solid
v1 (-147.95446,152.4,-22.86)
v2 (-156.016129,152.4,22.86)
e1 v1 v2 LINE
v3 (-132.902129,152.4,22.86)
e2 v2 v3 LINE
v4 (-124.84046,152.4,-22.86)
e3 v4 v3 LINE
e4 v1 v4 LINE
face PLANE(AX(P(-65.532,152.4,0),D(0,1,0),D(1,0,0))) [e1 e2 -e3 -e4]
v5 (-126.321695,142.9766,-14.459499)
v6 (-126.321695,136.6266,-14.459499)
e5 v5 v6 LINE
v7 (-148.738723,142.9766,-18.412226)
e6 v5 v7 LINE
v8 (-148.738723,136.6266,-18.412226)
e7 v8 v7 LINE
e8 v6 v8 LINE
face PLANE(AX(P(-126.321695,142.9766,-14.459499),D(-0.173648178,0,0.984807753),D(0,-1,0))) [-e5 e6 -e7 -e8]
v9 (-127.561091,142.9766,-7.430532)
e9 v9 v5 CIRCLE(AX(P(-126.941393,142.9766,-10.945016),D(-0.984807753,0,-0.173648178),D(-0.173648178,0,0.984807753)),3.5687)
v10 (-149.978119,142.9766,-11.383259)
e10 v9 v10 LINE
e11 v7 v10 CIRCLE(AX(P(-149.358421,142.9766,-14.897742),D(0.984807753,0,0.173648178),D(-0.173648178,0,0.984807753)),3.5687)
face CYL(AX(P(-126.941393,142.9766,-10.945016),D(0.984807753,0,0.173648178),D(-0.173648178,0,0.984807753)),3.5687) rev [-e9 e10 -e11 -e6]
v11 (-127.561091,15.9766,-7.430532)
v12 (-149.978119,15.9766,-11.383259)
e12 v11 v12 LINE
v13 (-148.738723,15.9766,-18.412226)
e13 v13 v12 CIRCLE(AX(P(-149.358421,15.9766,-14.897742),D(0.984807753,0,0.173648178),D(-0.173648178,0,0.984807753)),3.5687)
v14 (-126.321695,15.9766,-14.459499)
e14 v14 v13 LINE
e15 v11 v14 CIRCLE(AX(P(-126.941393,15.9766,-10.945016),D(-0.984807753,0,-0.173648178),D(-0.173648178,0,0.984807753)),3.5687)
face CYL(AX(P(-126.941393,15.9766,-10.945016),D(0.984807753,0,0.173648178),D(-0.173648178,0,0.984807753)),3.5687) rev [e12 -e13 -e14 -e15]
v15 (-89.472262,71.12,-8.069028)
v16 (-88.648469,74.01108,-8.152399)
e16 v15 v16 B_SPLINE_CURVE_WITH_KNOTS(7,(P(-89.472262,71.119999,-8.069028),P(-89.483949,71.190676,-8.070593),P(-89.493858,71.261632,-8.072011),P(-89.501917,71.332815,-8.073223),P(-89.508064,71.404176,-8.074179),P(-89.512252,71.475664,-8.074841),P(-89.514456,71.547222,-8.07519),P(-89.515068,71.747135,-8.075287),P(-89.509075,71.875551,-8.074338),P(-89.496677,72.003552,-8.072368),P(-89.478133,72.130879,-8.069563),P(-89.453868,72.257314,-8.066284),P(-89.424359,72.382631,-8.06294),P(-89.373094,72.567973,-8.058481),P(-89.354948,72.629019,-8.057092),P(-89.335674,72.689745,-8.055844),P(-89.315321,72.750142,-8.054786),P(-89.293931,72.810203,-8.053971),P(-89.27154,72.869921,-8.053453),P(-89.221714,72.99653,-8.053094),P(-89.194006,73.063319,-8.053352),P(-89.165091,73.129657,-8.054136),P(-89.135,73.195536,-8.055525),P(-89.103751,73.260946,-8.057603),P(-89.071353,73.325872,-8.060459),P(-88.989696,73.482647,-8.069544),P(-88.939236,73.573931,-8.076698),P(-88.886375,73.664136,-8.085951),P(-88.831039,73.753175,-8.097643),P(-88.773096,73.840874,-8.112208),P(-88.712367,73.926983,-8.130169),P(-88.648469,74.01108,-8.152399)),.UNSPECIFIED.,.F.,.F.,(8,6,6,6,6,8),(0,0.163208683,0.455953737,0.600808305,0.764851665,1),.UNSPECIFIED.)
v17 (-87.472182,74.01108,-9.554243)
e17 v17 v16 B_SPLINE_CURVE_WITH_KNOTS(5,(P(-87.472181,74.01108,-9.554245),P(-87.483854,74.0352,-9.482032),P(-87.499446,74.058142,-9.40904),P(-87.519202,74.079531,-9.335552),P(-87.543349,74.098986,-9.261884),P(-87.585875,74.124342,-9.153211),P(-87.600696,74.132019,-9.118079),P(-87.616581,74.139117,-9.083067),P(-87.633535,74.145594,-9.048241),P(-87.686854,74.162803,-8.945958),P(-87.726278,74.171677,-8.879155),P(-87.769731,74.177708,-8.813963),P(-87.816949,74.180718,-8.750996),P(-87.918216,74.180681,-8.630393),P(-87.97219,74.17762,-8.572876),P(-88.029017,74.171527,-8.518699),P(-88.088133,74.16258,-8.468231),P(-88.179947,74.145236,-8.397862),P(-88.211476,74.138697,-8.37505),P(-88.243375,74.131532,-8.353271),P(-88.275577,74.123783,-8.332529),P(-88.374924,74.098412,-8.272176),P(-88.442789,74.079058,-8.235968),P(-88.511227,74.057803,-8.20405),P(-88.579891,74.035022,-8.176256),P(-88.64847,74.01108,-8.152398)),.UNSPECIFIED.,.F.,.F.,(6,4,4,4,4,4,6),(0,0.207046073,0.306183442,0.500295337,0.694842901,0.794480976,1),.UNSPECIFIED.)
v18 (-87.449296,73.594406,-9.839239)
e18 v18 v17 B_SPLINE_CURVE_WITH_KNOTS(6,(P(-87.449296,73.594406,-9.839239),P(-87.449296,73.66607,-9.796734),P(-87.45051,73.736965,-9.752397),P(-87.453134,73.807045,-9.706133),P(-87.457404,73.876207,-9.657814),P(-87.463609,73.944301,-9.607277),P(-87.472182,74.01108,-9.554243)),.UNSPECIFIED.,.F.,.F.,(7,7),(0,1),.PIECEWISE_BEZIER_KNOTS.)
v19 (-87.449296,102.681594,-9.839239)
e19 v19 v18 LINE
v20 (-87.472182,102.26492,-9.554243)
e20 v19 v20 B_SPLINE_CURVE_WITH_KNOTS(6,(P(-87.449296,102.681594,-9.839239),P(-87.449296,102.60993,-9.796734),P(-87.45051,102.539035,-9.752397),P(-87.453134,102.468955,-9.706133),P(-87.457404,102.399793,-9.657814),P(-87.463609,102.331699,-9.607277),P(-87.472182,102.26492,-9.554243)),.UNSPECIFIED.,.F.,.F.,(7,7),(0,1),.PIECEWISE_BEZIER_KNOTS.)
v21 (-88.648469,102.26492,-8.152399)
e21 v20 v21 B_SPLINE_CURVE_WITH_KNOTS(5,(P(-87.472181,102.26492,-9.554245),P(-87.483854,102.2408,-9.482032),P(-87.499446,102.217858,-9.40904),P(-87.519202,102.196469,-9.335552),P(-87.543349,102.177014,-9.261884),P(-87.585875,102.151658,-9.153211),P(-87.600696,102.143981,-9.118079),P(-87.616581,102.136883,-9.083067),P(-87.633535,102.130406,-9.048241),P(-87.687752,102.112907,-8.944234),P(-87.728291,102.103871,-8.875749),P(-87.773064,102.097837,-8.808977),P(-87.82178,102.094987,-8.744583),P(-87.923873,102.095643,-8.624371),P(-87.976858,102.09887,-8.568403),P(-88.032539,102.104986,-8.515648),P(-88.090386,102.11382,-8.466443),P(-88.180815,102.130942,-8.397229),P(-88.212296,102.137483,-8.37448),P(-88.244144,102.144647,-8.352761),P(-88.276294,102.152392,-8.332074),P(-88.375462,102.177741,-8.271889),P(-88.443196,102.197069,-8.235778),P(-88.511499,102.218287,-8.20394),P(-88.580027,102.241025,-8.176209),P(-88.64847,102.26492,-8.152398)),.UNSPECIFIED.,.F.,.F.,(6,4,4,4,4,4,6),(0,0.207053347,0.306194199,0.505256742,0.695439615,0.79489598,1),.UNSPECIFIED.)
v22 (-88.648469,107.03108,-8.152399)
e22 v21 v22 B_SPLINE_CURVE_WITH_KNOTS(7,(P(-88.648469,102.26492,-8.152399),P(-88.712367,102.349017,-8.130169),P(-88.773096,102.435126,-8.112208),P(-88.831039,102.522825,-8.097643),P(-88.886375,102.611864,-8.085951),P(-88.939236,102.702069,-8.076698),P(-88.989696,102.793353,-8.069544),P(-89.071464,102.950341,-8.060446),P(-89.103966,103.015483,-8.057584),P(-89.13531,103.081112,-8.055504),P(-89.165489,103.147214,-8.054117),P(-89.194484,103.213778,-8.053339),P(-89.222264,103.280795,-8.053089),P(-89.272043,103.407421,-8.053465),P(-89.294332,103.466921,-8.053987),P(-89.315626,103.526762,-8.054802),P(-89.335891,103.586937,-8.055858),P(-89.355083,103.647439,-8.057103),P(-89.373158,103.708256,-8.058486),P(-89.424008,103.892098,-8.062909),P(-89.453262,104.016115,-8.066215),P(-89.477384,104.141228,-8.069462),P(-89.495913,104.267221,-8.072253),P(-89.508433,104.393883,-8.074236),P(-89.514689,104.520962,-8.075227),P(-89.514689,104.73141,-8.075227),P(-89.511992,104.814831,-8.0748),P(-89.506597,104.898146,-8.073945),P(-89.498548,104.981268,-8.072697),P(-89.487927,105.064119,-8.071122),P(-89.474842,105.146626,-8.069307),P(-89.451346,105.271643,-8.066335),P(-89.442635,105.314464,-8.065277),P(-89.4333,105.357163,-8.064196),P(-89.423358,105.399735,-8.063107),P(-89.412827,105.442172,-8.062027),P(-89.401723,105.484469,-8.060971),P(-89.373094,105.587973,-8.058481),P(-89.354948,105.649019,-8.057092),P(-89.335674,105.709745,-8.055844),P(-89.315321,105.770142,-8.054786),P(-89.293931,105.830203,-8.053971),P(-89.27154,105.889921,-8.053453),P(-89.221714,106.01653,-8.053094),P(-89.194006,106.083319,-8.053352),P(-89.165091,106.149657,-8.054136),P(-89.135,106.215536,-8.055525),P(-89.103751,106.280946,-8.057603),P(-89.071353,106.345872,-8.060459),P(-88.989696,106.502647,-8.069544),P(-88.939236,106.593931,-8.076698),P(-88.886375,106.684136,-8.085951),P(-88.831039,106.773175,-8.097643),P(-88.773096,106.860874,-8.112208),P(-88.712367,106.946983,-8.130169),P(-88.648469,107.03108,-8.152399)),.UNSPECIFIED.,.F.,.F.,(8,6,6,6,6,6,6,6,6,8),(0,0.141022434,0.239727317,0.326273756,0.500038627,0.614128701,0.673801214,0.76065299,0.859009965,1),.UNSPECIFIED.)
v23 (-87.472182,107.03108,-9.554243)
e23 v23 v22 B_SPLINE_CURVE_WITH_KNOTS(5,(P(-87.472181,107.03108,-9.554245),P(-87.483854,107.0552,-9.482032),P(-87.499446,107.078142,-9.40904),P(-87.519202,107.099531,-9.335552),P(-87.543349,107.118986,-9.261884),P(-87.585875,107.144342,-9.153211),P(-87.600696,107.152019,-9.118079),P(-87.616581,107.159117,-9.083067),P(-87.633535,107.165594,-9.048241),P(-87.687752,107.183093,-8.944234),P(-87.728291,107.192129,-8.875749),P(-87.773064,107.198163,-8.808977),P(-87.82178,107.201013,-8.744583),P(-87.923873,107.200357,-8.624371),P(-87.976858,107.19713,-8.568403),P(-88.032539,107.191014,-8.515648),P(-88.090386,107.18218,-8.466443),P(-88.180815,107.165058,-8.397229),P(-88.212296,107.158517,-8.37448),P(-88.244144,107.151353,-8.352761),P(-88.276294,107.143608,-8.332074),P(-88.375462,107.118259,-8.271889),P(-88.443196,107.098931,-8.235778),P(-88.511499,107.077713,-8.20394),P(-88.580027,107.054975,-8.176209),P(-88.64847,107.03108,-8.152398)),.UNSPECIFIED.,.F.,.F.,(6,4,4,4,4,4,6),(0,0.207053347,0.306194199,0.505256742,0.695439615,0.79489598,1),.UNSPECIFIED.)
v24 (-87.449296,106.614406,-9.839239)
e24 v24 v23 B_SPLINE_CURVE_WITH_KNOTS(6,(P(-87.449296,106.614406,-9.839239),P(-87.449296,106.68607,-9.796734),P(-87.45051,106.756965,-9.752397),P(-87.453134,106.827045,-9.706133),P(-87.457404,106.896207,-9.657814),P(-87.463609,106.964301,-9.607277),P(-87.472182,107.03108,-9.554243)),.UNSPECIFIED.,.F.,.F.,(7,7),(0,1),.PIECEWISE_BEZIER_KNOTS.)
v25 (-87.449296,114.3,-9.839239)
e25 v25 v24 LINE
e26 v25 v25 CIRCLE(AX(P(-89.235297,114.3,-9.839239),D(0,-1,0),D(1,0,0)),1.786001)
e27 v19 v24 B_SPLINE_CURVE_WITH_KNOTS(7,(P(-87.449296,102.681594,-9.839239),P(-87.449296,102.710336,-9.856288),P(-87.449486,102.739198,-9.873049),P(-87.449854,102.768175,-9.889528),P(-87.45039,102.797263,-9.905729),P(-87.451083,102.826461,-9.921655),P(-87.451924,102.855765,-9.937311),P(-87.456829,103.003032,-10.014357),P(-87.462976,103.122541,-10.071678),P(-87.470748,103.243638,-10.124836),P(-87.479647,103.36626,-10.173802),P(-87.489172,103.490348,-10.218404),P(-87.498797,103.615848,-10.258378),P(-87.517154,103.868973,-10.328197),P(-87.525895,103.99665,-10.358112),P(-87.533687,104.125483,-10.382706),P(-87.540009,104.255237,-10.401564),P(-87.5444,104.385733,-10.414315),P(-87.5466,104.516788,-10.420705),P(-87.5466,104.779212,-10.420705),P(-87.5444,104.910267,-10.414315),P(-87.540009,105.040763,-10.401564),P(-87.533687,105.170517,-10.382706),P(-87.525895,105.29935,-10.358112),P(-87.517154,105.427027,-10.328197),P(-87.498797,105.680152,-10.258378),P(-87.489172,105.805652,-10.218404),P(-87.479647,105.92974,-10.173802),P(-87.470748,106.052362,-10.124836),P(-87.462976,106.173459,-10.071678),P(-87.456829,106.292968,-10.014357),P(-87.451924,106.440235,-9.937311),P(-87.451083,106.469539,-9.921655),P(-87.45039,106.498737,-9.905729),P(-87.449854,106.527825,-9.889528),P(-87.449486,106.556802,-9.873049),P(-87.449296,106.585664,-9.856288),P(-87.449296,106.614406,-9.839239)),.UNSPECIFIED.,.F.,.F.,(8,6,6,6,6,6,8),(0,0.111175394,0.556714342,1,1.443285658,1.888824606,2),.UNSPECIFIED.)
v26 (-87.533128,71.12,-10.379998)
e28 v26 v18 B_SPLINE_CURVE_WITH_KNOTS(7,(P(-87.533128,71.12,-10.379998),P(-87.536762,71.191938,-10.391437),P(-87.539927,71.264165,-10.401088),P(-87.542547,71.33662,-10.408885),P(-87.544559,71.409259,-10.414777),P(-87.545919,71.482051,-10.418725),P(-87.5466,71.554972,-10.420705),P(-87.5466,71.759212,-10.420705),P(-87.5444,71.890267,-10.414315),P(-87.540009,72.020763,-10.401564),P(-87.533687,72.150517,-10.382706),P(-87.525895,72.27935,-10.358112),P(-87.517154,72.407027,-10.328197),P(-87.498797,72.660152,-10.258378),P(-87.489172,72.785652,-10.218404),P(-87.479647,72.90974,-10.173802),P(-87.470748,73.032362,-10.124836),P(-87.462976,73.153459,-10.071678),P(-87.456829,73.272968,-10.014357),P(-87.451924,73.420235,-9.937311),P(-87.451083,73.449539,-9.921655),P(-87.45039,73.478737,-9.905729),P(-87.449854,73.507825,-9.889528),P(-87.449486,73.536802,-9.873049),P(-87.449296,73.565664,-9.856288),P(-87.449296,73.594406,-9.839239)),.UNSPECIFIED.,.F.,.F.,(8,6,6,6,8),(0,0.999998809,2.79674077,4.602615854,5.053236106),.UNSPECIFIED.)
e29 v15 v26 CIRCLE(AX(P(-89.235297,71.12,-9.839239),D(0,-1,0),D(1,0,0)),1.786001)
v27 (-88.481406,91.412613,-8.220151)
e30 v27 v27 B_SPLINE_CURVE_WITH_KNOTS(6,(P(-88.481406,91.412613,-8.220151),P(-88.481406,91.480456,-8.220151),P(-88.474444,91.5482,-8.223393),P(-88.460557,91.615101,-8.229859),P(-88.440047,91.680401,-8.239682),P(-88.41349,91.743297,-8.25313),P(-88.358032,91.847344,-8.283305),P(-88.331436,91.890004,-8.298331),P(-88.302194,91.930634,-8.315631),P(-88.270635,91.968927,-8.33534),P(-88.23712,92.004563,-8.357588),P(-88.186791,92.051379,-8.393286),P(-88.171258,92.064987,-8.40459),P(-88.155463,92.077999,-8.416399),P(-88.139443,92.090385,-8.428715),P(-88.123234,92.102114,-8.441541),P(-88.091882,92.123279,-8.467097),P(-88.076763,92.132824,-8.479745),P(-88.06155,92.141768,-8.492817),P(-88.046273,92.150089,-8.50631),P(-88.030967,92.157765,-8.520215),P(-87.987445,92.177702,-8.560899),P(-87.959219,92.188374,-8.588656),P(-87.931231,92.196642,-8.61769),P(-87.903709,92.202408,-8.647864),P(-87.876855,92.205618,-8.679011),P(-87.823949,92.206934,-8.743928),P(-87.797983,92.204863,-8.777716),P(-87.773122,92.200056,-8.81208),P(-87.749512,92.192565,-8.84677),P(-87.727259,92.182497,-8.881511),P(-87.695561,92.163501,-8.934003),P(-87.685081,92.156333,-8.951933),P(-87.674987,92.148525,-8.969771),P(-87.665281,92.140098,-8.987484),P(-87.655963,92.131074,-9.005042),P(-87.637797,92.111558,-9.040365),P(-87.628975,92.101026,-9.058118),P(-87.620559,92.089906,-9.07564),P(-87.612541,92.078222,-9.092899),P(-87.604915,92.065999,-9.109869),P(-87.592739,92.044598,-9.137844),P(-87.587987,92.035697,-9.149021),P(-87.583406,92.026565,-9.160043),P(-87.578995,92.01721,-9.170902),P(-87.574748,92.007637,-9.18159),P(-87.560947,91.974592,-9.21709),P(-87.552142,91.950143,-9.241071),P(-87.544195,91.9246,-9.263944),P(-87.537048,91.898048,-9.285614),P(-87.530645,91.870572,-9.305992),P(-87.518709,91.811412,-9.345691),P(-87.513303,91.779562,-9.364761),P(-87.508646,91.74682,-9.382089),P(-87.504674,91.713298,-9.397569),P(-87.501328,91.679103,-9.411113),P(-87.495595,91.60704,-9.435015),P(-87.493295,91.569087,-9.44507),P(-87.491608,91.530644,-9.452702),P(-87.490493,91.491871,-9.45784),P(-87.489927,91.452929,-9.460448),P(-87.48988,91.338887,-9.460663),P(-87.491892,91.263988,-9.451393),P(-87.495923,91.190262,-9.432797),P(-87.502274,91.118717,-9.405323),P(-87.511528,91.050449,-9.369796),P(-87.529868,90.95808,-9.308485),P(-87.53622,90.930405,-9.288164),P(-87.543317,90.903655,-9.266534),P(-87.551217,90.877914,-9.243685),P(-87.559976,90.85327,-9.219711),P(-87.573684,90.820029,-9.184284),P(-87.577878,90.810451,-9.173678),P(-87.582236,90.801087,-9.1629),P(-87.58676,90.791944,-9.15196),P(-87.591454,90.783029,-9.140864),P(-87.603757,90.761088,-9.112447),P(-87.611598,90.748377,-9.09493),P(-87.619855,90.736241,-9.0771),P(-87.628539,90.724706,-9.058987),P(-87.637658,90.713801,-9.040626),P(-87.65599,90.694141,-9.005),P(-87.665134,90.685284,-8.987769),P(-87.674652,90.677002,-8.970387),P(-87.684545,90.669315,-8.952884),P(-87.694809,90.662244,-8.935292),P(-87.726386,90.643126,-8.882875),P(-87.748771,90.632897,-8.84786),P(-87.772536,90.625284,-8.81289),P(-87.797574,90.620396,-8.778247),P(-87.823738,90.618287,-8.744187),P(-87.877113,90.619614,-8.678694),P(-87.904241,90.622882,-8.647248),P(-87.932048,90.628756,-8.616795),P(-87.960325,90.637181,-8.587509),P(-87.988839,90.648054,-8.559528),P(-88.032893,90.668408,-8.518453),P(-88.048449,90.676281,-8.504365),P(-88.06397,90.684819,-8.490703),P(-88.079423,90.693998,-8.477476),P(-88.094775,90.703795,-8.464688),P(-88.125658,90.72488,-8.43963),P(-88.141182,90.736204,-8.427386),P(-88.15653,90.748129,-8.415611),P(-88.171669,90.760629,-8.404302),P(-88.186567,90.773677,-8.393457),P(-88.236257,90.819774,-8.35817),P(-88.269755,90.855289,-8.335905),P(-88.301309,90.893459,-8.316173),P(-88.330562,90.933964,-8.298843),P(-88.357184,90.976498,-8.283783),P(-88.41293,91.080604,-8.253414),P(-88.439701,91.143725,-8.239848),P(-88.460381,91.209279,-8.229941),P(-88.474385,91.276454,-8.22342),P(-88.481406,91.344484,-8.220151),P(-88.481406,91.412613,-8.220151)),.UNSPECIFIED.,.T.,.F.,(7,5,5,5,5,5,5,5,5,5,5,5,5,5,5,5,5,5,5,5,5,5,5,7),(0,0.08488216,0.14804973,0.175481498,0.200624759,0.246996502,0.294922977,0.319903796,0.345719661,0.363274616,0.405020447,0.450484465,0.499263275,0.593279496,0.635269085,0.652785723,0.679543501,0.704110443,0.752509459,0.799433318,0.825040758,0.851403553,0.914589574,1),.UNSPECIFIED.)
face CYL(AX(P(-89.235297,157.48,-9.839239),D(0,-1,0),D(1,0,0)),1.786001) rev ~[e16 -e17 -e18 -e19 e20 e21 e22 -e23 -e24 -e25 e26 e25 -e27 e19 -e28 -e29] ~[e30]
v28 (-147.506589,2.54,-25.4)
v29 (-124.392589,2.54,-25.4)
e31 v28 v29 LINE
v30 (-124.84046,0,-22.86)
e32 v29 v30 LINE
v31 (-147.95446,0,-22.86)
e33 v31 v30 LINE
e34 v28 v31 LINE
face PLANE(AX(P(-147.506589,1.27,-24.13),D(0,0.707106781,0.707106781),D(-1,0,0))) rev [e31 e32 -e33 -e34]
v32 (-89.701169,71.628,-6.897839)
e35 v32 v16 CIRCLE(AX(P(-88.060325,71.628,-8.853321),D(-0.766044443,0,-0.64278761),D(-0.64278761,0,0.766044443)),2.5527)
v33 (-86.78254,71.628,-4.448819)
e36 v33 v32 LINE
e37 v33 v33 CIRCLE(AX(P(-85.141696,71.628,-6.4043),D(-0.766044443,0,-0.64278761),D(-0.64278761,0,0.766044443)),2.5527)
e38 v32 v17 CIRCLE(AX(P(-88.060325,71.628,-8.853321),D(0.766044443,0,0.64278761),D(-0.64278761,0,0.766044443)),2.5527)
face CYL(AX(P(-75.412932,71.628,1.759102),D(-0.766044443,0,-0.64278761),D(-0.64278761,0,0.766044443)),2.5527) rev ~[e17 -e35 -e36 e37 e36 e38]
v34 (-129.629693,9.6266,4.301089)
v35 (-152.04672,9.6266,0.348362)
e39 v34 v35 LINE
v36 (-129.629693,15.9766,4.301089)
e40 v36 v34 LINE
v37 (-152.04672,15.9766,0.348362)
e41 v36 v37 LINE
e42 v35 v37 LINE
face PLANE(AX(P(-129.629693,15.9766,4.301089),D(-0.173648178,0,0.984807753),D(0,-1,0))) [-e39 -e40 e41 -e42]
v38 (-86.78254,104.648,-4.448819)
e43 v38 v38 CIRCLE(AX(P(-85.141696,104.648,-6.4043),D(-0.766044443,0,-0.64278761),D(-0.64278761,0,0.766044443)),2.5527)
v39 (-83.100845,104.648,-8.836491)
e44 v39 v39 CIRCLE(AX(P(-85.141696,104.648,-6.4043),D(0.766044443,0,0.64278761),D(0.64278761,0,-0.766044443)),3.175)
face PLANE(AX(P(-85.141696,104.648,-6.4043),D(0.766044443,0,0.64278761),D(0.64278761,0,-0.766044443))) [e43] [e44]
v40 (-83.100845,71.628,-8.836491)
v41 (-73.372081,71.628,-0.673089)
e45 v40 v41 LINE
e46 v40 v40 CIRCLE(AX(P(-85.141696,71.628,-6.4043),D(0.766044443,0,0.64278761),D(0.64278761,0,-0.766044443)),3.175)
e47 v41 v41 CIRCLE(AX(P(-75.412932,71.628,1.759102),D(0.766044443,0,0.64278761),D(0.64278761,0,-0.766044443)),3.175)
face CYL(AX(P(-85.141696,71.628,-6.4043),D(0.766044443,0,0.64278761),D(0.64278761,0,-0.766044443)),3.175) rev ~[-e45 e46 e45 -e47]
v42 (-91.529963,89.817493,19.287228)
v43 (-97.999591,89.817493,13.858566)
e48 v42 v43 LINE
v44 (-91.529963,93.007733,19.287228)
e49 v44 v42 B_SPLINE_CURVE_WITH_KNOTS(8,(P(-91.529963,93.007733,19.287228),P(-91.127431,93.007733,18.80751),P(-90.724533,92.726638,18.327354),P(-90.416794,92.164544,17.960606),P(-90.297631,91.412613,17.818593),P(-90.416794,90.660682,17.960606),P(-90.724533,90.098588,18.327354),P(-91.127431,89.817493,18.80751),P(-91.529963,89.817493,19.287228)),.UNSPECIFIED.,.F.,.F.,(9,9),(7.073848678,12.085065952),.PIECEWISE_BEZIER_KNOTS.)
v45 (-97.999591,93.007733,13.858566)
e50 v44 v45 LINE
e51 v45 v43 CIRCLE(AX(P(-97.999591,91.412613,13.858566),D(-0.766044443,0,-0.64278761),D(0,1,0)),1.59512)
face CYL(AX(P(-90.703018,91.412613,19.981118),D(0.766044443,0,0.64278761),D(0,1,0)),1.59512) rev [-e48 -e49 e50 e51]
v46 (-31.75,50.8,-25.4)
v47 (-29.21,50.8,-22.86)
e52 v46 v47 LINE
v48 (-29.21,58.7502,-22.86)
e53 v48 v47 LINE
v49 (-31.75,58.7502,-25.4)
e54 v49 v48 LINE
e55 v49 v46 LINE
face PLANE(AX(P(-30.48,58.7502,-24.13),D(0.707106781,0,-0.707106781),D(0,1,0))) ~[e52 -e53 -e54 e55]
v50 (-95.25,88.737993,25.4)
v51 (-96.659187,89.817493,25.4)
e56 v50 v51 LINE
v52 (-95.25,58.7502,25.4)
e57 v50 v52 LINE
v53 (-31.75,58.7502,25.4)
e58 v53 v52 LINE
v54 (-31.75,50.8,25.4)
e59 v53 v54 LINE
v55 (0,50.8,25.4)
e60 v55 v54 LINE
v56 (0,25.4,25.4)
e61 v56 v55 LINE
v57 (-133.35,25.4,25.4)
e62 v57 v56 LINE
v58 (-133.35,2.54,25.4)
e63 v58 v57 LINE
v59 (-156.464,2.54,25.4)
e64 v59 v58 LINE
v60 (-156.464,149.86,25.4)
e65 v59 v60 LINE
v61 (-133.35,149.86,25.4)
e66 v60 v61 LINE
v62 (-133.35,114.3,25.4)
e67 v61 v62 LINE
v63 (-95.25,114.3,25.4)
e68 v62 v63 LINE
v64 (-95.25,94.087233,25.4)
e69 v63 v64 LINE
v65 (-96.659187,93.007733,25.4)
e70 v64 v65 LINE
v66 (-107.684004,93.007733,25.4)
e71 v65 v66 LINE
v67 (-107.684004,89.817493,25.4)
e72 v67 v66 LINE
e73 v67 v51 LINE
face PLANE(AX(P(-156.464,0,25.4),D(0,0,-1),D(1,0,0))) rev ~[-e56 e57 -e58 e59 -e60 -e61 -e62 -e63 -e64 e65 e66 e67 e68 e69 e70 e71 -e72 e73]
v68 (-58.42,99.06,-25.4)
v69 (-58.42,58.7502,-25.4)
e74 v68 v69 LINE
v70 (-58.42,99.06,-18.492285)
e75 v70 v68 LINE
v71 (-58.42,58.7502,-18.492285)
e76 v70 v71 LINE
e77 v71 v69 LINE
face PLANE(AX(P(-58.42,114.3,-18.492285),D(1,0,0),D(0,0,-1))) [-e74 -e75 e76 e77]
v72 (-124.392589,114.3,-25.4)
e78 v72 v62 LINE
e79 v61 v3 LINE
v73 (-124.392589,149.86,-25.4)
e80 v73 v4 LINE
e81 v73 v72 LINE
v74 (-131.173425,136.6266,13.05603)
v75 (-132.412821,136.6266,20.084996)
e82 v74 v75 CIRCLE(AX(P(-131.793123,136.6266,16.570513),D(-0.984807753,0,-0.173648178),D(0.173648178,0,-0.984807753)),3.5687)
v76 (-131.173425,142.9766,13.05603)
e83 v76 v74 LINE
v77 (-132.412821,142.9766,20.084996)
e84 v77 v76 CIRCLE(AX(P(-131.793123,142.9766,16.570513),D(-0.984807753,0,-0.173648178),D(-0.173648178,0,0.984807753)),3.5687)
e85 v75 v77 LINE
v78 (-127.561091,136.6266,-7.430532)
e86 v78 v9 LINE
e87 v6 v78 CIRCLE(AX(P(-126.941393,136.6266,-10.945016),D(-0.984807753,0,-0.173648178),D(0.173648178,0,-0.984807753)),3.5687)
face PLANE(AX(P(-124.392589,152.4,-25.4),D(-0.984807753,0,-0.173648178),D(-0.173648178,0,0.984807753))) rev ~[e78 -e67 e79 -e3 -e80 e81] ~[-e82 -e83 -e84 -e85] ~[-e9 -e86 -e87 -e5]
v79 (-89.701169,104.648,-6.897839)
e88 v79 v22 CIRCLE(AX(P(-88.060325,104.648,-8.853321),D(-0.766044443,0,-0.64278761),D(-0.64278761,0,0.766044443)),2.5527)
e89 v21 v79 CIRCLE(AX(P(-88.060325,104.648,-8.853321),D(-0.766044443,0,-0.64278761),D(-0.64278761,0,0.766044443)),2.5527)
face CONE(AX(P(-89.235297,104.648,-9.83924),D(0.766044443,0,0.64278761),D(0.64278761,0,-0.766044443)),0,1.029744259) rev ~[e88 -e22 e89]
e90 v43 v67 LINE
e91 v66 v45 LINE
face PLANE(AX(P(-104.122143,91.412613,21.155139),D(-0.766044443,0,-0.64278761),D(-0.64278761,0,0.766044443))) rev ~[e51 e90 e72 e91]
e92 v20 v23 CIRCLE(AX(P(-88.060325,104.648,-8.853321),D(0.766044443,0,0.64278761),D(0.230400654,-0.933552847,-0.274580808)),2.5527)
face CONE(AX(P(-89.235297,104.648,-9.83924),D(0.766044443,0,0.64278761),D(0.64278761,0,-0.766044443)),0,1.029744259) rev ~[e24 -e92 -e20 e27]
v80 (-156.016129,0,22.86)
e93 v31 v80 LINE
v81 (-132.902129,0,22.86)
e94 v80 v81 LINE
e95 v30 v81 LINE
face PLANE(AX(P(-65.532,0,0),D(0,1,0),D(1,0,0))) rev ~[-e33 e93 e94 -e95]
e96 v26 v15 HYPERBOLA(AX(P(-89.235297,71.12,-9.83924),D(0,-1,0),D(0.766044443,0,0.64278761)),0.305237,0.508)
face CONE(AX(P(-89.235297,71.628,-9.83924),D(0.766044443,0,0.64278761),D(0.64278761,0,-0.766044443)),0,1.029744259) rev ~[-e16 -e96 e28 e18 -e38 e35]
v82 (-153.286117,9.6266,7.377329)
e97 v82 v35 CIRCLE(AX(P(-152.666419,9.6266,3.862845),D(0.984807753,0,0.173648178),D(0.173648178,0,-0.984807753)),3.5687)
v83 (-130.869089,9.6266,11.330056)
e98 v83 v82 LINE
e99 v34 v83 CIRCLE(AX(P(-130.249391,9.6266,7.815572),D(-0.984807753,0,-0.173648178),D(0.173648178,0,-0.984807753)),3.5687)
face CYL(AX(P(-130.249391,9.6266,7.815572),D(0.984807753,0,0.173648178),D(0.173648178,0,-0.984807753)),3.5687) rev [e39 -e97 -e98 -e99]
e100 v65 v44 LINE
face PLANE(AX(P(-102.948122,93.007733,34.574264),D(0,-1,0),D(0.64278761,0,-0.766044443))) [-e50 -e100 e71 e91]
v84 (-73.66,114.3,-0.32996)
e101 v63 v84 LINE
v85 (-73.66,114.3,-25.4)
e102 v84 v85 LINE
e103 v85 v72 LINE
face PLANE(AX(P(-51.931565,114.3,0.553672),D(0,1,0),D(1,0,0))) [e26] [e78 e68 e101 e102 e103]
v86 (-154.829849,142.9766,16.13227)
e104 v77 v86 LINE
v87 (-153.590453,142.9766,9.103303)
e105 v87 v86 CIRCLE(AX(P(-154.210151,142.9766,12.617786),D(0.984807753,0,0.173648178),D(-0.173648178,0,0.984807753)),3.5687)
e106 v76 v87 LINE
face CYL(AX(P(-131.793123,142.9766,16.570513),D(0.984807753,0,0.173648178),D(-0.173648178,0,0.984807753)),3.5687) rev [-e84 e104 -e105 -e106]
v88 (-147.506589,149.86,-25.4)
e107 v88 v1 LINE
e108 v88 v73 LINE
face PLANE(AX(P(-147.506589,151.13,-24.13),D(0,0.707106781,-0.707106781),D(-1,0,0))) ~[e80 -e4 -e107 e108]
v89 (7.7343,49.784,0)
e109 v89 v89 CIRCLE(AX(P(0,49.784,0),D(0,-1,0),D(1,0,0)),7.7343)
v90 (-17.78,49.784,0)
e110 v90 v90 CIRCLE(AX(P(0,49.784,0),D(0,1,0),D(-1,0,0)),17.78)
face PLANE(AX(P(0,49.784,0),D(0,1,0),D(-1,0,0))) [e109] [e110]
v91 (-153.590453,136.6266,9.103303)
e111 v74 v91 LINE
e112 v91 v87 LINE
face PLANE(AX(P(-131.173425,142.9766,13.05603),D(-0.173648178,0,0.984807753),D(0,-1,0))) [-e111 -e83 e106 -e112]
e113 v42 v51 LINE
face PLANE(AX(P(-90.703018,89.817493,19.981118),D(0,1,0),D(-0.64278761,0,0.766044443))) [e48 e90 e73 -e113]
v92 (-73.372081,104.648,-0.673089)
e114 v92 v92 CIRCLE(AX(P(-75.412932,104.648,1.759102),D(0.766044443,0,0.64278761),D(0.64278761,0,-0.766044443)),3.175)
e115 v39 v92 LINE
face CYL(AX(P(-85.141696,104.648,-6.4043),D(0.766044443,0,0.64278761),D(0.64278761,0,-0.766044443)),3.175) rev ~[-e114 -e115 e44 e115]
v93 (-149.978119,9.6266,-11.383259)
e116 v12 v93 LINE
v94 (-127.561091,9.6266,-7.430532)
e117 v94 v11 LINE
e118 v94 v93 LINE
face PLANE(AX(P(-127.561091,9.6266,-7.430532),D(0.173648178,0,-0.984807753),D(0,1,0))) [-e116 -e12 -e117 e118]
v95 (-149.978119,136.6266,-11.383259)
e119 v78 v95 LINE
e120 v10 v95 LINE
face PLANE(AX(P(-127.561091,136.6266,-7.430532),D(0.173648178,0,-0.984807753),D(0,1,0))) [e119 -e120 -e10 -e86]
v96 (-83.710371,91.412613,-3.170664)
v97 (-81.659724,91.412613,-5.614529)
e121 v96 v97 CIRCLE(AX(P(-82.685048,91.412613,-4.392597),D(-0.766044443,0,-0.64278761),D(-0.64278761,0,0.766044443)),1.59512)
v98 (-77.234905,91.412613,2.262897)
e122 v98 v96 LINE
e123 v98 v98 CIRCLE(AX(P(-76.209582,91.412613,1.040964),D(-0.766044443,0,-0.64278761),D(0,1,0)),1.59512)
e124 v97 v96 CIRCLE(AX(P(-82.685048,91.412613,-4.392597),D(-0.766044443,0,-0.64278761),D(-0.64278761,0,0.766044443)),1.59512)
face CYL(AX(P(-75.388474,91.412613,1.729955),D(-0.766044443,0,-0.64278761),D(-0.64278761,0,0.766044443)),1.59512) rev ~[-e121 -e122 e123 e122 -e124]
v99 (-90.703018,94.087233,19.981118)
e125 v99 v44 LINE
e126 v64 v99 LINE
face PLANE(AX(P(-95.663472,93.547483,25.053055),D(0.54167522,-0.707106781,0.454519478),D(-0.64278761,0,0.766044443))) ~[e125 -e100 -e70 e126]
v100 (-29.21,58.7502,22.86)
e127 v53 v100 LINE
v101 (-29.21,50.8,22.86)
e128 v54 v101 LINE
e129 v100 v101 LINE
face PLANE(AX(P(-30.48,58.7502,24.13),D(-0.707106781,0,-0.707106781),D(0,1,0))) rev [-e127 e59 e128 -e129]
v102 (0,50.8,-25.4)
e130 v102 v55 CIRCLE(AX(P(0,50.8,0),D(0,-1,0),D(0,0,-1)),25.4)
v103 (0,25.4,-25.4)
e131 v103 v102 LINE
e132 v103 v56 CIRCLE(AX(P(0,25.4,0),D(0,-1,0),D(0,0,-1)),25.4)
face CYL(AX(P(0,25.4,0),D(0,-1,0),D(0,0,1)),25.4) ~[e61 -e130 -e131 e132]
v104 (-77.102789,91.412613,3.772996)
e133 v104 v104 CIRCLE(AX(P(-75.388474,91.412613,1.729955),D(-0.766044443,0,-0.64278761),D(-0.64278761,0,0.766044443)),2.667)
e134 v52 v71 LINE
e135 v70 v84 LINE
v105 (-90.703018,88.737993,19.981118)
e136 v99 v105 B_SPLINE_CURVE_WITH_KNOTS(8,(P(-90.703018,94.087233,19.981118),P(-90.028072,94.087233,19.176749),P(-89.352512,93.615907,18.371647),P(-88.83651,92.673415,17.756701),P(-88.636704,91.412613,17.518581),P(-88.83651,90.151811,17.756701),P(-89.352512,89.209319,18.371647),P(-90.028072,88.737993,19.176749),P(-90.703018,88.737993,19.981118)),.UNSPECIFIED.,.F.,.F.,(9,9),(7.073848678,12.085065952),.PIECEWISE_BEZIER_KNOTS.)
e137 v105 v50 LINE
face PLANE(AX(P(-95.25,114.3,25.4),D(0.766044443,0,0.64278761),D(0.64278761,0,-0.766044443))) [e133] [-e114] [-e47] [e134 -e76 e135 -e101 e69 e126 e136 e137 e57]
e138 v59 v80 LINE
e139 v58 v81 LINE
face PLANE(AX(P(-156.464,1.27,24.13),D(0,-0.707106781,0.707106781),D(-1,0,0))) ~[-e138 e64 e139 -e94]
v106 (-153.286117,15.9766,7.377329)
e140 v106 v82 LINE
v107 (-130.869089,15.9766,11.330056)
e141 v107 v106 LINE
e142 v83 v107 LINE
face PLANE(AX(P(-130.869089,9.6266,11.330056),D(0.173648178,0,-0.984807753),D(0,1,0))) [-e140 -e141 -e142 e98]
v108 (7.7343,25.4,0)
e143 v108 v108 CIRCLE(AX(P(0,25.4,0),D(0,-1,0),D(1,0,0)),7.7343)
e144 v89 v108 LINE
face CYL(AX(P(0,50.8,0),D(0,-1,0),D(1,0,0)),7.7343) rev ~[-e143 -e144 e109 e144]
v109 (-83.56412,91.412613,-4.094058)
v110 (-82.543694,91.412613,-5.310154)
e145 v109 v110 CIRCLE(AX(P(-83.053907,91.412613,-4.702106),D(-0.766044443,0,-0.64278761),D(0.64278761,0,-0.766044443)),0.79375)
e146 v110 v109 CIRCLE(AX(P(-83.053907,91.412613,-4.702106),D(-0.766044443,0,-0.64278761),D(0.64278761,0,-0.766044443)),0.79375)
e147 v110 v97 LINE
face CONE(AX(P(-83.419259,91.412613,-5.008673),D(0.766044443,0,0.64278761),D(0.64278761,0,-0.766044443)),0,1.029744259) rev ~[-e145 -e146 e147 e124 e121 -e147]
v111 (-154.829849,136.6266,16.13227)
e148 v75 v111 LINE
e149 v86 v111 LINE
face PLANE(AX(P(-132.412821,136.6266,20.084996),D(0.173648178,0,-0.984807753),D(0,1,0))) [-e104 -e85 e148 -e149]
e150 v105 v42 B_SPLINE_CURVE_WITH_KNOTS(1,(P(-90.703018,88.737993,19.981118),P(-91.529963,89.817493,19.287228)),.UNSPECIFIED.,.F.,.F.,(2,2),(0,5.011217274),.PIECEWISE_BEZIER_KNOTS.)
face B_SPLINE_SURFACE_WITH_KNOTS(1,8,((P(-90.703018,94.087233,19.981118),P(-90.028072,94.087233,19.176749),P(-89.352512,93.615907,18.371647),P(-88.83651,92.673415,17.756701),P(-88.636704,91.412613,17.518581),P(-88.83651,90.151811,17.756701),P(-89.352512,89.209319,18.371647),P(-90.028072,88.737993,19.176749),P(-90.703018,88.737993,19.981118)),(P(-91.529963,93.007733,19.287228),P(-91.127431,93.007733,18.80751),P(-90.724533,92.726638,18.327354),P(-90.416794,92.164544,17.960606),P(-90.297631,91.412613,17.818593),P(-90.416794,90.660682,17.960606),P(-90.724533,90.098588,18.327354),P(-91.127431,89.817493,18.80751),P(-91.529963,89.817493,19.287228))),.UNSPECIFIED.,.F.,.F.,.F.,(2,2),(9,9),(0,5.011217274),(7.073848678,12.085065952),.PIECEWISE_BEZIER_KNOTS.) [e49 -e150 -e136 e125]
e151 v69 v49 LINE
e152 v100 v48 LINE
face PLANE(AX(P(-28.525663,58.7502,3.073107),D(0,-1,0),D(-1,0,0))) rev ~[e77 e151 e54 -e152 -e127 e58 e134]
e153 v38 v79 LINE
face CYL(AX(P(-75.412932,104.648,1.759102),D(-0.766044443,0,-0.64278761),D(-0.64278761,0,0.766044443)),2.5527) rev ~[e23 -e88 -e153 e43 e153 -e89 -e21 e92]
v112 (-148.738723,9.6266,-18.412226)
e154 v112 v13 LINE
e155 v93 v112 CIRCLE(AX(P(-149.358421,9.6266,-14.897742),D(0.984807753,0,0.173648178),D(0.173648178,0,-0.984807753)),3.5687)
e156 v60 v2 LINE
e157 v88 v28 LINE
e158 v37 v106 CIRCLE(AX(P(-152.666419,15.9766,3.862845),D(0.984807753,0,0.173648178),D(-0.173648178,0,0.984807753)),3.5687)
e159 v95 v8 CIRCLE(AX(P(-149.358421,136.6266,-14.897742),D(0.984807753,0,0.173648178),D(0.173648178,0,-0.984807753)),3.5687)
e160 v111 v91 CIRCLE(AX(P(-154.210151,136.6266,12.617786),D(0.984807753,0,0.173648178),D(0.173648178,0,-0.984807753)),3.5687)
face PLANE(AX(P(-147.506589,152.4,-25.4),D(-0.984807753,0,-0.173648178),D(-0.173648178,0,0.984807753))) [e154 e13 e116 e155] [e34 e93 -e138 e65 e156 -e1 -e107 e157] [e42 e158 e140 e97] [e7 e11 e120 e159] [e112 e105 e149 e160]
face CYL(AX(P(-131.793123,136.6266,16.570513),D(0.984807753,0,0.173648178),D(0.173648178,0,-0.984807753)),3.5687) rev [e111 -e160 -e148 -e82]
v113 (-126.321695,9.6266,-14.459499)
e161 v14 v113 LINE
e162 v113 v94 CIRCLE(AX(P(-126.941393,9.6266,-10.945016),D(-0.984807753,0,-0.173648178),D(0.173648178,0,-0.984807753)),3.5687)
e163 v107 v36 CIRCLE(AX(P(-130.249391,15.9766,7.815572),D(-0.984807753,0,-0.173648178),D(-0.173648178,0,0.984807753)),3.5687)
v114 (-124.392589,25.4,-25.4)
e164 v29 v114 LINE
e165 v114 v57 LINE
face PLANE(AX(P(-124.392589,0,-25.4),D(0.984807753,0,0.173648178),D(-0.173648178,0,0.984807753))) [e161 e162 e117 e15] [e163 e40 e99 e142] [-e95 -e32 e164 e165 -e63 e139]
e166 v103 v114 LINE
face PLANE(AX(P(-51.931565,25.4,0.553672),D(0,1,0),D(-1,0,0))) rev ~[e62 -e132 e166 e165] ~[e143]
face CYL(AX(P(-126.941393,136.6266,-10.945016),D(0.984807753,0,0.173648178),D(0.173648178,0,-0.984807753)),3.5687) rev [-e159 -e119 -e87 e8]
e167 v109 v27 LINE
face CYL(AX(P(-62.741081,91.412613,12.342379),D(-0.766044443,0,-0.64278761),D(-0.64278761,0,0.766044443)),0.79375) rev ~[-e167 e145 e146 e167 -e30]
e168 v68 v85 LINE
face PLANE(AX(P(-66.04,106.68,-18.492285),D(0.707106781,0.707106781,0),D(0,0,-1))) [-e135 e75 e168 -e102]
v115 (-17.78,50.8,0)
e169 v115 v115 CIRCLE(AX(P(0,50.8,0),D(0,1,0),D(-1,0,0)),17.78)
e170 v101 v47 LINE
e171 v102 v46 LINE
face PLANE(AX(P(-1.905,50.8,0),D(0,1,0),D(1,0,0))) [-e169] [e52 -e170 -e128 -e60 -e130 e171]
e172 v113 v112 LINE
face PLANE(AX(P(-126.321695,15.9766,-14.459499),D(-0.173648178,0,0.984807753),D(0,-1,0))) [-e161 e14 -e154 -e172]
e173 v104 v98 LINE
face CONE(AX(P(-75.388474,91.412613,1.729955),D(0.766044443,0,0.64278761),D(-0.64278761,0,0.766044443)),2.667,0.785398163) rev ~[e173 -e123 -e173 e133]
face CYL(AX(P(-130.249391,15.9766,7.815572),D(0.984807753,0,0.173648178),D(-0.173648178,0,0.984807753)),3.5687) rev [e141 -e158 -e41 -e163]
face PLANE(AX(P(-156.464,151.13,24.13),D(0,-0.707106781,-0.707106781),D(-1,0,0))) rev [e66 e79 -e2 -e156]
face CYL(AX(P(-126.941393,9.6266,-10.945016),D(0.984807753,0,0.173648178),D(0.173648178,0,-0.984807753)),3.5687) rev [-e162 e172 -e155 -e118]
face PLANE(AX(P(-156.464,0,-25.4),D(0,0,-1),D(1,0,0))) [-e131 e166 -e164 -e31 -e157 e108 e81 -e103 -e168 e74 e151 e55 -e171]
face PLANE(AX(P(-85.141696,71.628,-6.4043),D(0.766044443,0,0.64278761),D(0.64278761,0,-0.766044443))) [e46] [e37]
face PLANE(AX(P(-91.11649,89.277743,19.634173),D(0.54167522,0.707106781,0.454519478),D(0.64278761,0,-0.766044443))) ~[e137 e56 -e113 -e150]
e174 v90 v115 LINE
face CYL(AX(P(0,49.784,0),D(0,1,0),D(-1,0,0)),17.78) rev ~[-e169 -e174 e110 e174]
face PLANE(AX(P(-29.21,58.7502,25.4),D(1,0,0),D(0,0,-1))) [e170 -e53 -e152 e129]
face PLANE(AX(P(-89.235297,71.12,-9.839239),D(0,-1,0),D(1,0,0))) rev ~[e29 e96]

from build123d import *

# Parameters (mm, degrees)
SKETCH1_W                              = 181.864
SKETCH1_H                              = 50.8
EXTRUDE1_DEPTH                         = 152.4
EXTRUDE2_DEPTH                         = 153.4
EXTRUDE3_DEPTH                         = 38.1
EXTRUDE4_DEPTH                         = 55.5498
SKETCH5_W                              = 54.61
SKETCH5_H                              = 50.8
EXTRUDE5_DEPTH                         = 7.9502
EXTRUDE6_DEPTH                         = 25.4
EXTRUDE7_DEPTH                         = 32.584173829
LPATTERN1_COUNT                        = 2
LPATTERN1_PITCH                        = 127
LPATTERN1_COUNT_DIR2                   = 2
LPATTERN1_PITCH_DIR2                   = 27.94
F_1_4_20_TAPPED_HOLE1_D                = 5.1054
F_1_4_20_TAPPED_HOLE1_DEPTH            = 16.51
F_1_4_20_TAPPED_HOLE1_CBORE_D          = 6.35
F_1_4_20_TAPPED_HOLE1_CBORE_DEPTH      = 12.7
F_1_4_20_TAPPED_HOLE1_TIP              = 1.533816902
EXTRUDE9_DEPTH                         = 128
CHAMFER1_SIZE                          = 2.54
CHAMFER2_SIZE                          = 15.24
EXTRUDE10_DEPTH                        = 32.584173829
SCREW_THRU_HOLE_AND_CBORE_D            = 15.4686
SCREW_THRU_HOLE_AND_CBORE_CBORE_D      = 35.56
SCREW_THRU_HOLE_AND_CBORE_CBORE_DEPTH  = 1.016
F_1_8_0_125_DIAMETER_HOLE1_D           = 3.19024
F_1_8_0_125_DIAMETER_HOLE1_DEPTH       = 9.525
F_1_8_0_125_DIAMETER_HOLE1_CSINK_D     = 5.334
F_1_8_0_125_DIAMETER_HOLE1_CSINK_ANGLE = 90
F_1_8_0_125_DIAMETER_HOLE1_TIP         = 0.958444791
CUT_EXTRUDE1_DEPTH                     = 9.525
CHAMFER3_SIZE                          = 1.0795
F_9_64_0_14063_DIAMETER_HOLE1_D        = 3.572002
F_9_64_0_14063_DIAMETER_HOLE1_DEPTH    = 43.18
F_1_16_0_0625_DIAMETER_HOLE1_D         = 1.5875
F_1_16_0_0625_DIAMETER_HOLE1_DEPTH     = 16.51


with BuildPart() as part:
    # Sketch1 → Extrude1 (new body)
    with BuildSketch(Plane(origin=(0, 0, 0), x_dir=(1, 0, 0), z_dir=(0, 1, 0))):
        with Locations((-65.532, 0)):
            Rectangle(SKETCH1_W, SKETCH1_H)
    extrude(amount=EXTRUDE1_DEPTH)

    # Sketch2 → Extrude2 (cut, through all)
    with BuildSketch(Plane(origin=(0, 152.4, 0), x_dir=(1, 0, 0), z_dir=(0, 1, 0))):
        Polygon((-156.464, -25.4), (-156.464, 25.4), (-147.50658938, 25.4), align=None)
    extrude(amount=-EXTRUDE2_DEPTH, mode=Mode.SUBTRACT)

    # Sketch3 → Extrude3 (cut)
    with BuildSketch(Plane(origin=(0, 152.4, 0), x_dir=(1, 0, 0), z_dir=(0, 1, 0))):
        Polygon((25.4, -25.4), (25.4, 25.4), (-124.39258938, 25.4), (-133.35, -25.4), align=None)
    extrude(amount=-EXTRUDE3_DEPTH, mode=Mode.SUBTRACT)

    # Sketch4 → Extrude4 (cut)
    with BuildSketch(Plane(origin=(0, 114.3, 0), x_dir=(1, 0, 0), z_dir=(0, 1, 0))):
        Polygon((25.4, -25.4), (-95.25, -25.4), (-58.42, 18.492284815), (-58.42, 25.4), (25.4, 25.4), align=None)
    extrude(amount=-EXTRUDE4_DEPTH, mode=Mode.SUBTRACT)

    # Sketch5 → Extrude5 (cut)
    with BuildSketch(Plane(origin=(0, 58.7502, 0), x_dir=(1, 0, 0), z_dir=(0, 1, 0))):
        with Locations((-1.905, 0)):
            Rectangle(SKETCH5_W, SKETCH5_H)
    extrude(amount=-EXTRUDE5_DEPTH, mode=Mode.SUBTRACT)

    # Sketch6 → Extrude6 (cut)
    with BuildSketch(Plane.XZ):
        Polygon((25.4, 25.4), (25.4, -25.4), (-124.39258938, -25.4), (-133.35, 25.4), align=None)
    extrude(amount=-EXTRUDE6_DEPTH, mode=Mode.SUBTRACT)

    # Sketch7 → Extrude7 (cut, through all)
    with BuildSketch(Plane(origin=(-124.985349671, 0, -22.03828934), x_dir=(0.173648178, 0, -0.984807753), z_dir=(0.984807753, 0, 0.173648178))):
        with BuildLine():
            Line((-35.635705397, 142.9766), (-35.635705397, 136.6266))
            ThreePointArc((-35.635705397, 136.6266), (-39.204405397, 133.0579), (-42.773105397, 136.6266))
            Line((-42.773105397, 136.6266), (-42.773105397, 142.9766))
            ThreePointArc((-42.773105397, 142.9766), (-39.204405397, 146.5453), (-35.635705397, 142.9766))
        make_face()
    extrude7 = extrude(amount=-EXTRUDE7_DEPTH, mode=Mode.SUBTRACT)

    # LPattern1: Extrude7 2 × 2, 1 skipped
    with Locations(*[Vector(0, -1, 0) * (i * LPATTERN1_PITCH) + Vector(0.173648178, 0, -0.984807753) * (j * LPATTERN1_PITCH_DIR2) for i in range(LPATTERN1_COUNT) for j in range(LPATTERN1_COUNT_DIR2) if (i, j) not in ((0, 0), (1, 0))]):
        add(extrude7, mode=Mode.SUBTRACT)

    # 1/4-20 Tapped Hole1
    with Locations(Plane(origin=(-43.387935998, 0, -36.406801094), x_dir=(0.64278761, 0, -0.766044443), z_dir=(0.766044443, 0, 0.64278761))):
        with Locations((-49.822048678, 104.648), (-49.822048678, 71.628)):
            CounterBoreHole(F_1_4_20_TAPPED_HOLE1_D / 2, F_1_4_20_TAPPED_HOLE1_CBORE_D / 2, F_1_4_20_TAPPED_HOLE1_CBORE_DEPTH, depth=F_1_4_20_TAPPED_HOLE1_DEPTH)
            with Locations((0, 0, -(F_1_4_20_TAPPED_HOLE1_DEPTH + F_1_4_20_TAPPED_HOLE1_TIP / 2))):  # 118° drill point
                Cone(0, F_1_4_20_TAPPED_HOLE1_D / 2, F_1_4_20_TAPPED_HOLE1_TIP, mode=Mode.SUBTRACT)

    # Sketch19 → Extrude9 (cut, through all)
    with BuildSketch(Plane.XZ.offset(-25.4)):
        with BuildLine():
            Line((27.94, 25.4), (0, 25.4))
            ThreePointArc((0, 25.4), (25.4, 0), (0, -25.4))
            Line((0, -25.4), (27.94, -25.4))
            Line((27.94, -25.4), (27.94, 25.4))
        make_face()
    extrude(amount=-EXTRUDE9_DEPTH, mode=Mode.SUBTRACT)

    # Chamfer1
    chamfer1_edges = [part.edges().sort_by_distance(p)[0] for p in [
        (-135.94958938, 152.4, -25.4),
        (-144.907, 0, 25.4),
        (-29.21, 54.7751, 25.4),
        (-29.21, 54.7751, -25.4),
        (-135.94958938, 0, -25.4),
        (-144.907, 152.4, 25.4),
    ]]
    chamfer(chamfer1_edges, length=CHAMFER1_SIZE)

    # Chamfer2
    chamfer2_edges = [part.edges().sort_by_distance(p)[0] for p in [
        (-58.42, 114.3, -21.946142408),
    ]]
    chamfer(chamfer2_edges, length=CHAMFER2_SIZE)

    # Sketch20 → Extrude10 (cut, through all)
    with BuildSketch(Plane(origin=(-124.985349671, 0, -22.03828934), x_dir=(0.173648178, 0, -0.984807753), z_dir=(0.984807753, 0, 0.173648178))):
        with BuildLine():
            Line((-26.745705397, 15.9766), (-26.745705397, 9.6266))
            ThreePointArc((-26.745705397, 9.6266), (-30.314405397, 6.0579), (-33.883105397, 9.6266))
            Line((-33.883105397, 9.6266), (-33.883105397, 15.9766))
            ThreePointArc((-33.883105397, 15.9766), (-30.314405397, 19.5453), (-26.745705397, 15.9766))
        make_face()
    extrude(amount=-EXTRUDE10_DEPTH, mode=Mode.SUBTRACT)

    # SCREW THRU HOLE AND CBORE (through all)
    with Locations(Plane(origin=(0, 50.8, 0), x_dir=(-1, 0, 0), z_dir=(0, 1, 0))):
        with Locations((0, 0)):
            CounterBoreHole(SCREW_THRU_HOLE_AND_CBORE_D / 2, SCREW_THRU_HOLE_AND_CBORE_CBORE_D / 2, SCREW_THRU_HOLE_AND_CBORE_CBORE_DEPTH)

    # 1/8 (0.125) Diameter Hole1
    with Locations(Plane(origin=(-43.387935998, 0, -36.406801094), x_dir=(0.64278761, 0, -0.766044443), z_dir=(0.766044443, 0, 0.64278761))):
        with Locations((-49.784, 91.412613047)):
            CounterSinkHole(F_1_8_0_125_DIAMETER_HOLE1_D / 2, F_1_8_0_125_DIAMETER_HOLE1_CSINK_D / 2, depth=F_1_8_0_125_DIAMETER_HOLE1_DEPTH, counter_sink_angle=F_1_8_0_125_DIAMETER_HOLE1_CSINK_ANGLE)
            with Locations((0, 0, -(F_1_8_0_125_DIAMETER_HOLE1_DEPTH + F_1_8_0_125_DIAMETER_HOLE1_TIP / 2))):  # 118° drill point
                Cone(0, F_1_8_0_125_DIAMETER_HOLE1_D / 2, F_1_8_0_125_DIAMETER_HOLE1_TIP, mode=Mode.SUBTRACT)

    # Sketch26 → Cut-Extrude1 (cut)
    with BuildSketch(Plane(origin=(-43.387935998, 0, -36.406801094), x_dir=(0.64278761, 0, -0.766044443), z_dir=(0.766044443, 0, 0.64278761))):
        with BuildLine():
            Line((-73.6092, 89.817493047), (-92.6592, 89.817493047))
            ThreePointArc((-92.6592, 89.817493047), (-94.25432, 91.412613047), (-92.6592, 93.007733047))
            Line((-92.6592, 93.007733047), (-73.6092, 93.007733047))
            ThreePointArc((-73.6092, 93.007733047), (-72.01408, 91.412613047), (-73.6092, 89.817493047))
        make_face()
    extrude(amount=-CUT_EXTRUDE1_DEPTH, mode=Mode.SUBTRACT)

    # Chamfer3
    chamfer3_edges = [part.edges().sort_by_distance(p)[0] for p in [
        (-92.976508859, 89.817493047, 22.690558764),
        (-92.976508859, 93.007733047, 22.690558764),
        (-89.677694345, 91.412613047, 18.759184717),
    ]]
    chamfer(chamfer3_edges, length=CHAMFER3_SIZE)

    # 9/64 (0.14063) Diameter Hole1
    with Locations(Plane(origin=(0, 114.3, 0), x_dir=(-1, 0, 0), z_dir=(0, 1, 0))):
        with Locations((89.235297248, -9.839239495)):
            Hole(F_9_64_0_14063_DIAMETER_HOLE1_D / 2, depth=F_9_64_0_14063_DIAMETER_HOLE1_DEPTH)

    # 1/16 (0.0625) Diameter Hole1
    with Locations(Plane(origin=(-43.387935998, 0, -36.406801094), x_dir=(0.64278761, 0, -0.766044443), z_dir=(0.766044443, 0, 0.64278761))):
        with Locations((-49.784, 91.412613047)):
            Hole(F_1_16_0_0625_DIAMETER_HOLE1_D / 2, depth=F_1_16_0_0625_DIAMETER_HOLE1_DEPTH)


solid = part.part
